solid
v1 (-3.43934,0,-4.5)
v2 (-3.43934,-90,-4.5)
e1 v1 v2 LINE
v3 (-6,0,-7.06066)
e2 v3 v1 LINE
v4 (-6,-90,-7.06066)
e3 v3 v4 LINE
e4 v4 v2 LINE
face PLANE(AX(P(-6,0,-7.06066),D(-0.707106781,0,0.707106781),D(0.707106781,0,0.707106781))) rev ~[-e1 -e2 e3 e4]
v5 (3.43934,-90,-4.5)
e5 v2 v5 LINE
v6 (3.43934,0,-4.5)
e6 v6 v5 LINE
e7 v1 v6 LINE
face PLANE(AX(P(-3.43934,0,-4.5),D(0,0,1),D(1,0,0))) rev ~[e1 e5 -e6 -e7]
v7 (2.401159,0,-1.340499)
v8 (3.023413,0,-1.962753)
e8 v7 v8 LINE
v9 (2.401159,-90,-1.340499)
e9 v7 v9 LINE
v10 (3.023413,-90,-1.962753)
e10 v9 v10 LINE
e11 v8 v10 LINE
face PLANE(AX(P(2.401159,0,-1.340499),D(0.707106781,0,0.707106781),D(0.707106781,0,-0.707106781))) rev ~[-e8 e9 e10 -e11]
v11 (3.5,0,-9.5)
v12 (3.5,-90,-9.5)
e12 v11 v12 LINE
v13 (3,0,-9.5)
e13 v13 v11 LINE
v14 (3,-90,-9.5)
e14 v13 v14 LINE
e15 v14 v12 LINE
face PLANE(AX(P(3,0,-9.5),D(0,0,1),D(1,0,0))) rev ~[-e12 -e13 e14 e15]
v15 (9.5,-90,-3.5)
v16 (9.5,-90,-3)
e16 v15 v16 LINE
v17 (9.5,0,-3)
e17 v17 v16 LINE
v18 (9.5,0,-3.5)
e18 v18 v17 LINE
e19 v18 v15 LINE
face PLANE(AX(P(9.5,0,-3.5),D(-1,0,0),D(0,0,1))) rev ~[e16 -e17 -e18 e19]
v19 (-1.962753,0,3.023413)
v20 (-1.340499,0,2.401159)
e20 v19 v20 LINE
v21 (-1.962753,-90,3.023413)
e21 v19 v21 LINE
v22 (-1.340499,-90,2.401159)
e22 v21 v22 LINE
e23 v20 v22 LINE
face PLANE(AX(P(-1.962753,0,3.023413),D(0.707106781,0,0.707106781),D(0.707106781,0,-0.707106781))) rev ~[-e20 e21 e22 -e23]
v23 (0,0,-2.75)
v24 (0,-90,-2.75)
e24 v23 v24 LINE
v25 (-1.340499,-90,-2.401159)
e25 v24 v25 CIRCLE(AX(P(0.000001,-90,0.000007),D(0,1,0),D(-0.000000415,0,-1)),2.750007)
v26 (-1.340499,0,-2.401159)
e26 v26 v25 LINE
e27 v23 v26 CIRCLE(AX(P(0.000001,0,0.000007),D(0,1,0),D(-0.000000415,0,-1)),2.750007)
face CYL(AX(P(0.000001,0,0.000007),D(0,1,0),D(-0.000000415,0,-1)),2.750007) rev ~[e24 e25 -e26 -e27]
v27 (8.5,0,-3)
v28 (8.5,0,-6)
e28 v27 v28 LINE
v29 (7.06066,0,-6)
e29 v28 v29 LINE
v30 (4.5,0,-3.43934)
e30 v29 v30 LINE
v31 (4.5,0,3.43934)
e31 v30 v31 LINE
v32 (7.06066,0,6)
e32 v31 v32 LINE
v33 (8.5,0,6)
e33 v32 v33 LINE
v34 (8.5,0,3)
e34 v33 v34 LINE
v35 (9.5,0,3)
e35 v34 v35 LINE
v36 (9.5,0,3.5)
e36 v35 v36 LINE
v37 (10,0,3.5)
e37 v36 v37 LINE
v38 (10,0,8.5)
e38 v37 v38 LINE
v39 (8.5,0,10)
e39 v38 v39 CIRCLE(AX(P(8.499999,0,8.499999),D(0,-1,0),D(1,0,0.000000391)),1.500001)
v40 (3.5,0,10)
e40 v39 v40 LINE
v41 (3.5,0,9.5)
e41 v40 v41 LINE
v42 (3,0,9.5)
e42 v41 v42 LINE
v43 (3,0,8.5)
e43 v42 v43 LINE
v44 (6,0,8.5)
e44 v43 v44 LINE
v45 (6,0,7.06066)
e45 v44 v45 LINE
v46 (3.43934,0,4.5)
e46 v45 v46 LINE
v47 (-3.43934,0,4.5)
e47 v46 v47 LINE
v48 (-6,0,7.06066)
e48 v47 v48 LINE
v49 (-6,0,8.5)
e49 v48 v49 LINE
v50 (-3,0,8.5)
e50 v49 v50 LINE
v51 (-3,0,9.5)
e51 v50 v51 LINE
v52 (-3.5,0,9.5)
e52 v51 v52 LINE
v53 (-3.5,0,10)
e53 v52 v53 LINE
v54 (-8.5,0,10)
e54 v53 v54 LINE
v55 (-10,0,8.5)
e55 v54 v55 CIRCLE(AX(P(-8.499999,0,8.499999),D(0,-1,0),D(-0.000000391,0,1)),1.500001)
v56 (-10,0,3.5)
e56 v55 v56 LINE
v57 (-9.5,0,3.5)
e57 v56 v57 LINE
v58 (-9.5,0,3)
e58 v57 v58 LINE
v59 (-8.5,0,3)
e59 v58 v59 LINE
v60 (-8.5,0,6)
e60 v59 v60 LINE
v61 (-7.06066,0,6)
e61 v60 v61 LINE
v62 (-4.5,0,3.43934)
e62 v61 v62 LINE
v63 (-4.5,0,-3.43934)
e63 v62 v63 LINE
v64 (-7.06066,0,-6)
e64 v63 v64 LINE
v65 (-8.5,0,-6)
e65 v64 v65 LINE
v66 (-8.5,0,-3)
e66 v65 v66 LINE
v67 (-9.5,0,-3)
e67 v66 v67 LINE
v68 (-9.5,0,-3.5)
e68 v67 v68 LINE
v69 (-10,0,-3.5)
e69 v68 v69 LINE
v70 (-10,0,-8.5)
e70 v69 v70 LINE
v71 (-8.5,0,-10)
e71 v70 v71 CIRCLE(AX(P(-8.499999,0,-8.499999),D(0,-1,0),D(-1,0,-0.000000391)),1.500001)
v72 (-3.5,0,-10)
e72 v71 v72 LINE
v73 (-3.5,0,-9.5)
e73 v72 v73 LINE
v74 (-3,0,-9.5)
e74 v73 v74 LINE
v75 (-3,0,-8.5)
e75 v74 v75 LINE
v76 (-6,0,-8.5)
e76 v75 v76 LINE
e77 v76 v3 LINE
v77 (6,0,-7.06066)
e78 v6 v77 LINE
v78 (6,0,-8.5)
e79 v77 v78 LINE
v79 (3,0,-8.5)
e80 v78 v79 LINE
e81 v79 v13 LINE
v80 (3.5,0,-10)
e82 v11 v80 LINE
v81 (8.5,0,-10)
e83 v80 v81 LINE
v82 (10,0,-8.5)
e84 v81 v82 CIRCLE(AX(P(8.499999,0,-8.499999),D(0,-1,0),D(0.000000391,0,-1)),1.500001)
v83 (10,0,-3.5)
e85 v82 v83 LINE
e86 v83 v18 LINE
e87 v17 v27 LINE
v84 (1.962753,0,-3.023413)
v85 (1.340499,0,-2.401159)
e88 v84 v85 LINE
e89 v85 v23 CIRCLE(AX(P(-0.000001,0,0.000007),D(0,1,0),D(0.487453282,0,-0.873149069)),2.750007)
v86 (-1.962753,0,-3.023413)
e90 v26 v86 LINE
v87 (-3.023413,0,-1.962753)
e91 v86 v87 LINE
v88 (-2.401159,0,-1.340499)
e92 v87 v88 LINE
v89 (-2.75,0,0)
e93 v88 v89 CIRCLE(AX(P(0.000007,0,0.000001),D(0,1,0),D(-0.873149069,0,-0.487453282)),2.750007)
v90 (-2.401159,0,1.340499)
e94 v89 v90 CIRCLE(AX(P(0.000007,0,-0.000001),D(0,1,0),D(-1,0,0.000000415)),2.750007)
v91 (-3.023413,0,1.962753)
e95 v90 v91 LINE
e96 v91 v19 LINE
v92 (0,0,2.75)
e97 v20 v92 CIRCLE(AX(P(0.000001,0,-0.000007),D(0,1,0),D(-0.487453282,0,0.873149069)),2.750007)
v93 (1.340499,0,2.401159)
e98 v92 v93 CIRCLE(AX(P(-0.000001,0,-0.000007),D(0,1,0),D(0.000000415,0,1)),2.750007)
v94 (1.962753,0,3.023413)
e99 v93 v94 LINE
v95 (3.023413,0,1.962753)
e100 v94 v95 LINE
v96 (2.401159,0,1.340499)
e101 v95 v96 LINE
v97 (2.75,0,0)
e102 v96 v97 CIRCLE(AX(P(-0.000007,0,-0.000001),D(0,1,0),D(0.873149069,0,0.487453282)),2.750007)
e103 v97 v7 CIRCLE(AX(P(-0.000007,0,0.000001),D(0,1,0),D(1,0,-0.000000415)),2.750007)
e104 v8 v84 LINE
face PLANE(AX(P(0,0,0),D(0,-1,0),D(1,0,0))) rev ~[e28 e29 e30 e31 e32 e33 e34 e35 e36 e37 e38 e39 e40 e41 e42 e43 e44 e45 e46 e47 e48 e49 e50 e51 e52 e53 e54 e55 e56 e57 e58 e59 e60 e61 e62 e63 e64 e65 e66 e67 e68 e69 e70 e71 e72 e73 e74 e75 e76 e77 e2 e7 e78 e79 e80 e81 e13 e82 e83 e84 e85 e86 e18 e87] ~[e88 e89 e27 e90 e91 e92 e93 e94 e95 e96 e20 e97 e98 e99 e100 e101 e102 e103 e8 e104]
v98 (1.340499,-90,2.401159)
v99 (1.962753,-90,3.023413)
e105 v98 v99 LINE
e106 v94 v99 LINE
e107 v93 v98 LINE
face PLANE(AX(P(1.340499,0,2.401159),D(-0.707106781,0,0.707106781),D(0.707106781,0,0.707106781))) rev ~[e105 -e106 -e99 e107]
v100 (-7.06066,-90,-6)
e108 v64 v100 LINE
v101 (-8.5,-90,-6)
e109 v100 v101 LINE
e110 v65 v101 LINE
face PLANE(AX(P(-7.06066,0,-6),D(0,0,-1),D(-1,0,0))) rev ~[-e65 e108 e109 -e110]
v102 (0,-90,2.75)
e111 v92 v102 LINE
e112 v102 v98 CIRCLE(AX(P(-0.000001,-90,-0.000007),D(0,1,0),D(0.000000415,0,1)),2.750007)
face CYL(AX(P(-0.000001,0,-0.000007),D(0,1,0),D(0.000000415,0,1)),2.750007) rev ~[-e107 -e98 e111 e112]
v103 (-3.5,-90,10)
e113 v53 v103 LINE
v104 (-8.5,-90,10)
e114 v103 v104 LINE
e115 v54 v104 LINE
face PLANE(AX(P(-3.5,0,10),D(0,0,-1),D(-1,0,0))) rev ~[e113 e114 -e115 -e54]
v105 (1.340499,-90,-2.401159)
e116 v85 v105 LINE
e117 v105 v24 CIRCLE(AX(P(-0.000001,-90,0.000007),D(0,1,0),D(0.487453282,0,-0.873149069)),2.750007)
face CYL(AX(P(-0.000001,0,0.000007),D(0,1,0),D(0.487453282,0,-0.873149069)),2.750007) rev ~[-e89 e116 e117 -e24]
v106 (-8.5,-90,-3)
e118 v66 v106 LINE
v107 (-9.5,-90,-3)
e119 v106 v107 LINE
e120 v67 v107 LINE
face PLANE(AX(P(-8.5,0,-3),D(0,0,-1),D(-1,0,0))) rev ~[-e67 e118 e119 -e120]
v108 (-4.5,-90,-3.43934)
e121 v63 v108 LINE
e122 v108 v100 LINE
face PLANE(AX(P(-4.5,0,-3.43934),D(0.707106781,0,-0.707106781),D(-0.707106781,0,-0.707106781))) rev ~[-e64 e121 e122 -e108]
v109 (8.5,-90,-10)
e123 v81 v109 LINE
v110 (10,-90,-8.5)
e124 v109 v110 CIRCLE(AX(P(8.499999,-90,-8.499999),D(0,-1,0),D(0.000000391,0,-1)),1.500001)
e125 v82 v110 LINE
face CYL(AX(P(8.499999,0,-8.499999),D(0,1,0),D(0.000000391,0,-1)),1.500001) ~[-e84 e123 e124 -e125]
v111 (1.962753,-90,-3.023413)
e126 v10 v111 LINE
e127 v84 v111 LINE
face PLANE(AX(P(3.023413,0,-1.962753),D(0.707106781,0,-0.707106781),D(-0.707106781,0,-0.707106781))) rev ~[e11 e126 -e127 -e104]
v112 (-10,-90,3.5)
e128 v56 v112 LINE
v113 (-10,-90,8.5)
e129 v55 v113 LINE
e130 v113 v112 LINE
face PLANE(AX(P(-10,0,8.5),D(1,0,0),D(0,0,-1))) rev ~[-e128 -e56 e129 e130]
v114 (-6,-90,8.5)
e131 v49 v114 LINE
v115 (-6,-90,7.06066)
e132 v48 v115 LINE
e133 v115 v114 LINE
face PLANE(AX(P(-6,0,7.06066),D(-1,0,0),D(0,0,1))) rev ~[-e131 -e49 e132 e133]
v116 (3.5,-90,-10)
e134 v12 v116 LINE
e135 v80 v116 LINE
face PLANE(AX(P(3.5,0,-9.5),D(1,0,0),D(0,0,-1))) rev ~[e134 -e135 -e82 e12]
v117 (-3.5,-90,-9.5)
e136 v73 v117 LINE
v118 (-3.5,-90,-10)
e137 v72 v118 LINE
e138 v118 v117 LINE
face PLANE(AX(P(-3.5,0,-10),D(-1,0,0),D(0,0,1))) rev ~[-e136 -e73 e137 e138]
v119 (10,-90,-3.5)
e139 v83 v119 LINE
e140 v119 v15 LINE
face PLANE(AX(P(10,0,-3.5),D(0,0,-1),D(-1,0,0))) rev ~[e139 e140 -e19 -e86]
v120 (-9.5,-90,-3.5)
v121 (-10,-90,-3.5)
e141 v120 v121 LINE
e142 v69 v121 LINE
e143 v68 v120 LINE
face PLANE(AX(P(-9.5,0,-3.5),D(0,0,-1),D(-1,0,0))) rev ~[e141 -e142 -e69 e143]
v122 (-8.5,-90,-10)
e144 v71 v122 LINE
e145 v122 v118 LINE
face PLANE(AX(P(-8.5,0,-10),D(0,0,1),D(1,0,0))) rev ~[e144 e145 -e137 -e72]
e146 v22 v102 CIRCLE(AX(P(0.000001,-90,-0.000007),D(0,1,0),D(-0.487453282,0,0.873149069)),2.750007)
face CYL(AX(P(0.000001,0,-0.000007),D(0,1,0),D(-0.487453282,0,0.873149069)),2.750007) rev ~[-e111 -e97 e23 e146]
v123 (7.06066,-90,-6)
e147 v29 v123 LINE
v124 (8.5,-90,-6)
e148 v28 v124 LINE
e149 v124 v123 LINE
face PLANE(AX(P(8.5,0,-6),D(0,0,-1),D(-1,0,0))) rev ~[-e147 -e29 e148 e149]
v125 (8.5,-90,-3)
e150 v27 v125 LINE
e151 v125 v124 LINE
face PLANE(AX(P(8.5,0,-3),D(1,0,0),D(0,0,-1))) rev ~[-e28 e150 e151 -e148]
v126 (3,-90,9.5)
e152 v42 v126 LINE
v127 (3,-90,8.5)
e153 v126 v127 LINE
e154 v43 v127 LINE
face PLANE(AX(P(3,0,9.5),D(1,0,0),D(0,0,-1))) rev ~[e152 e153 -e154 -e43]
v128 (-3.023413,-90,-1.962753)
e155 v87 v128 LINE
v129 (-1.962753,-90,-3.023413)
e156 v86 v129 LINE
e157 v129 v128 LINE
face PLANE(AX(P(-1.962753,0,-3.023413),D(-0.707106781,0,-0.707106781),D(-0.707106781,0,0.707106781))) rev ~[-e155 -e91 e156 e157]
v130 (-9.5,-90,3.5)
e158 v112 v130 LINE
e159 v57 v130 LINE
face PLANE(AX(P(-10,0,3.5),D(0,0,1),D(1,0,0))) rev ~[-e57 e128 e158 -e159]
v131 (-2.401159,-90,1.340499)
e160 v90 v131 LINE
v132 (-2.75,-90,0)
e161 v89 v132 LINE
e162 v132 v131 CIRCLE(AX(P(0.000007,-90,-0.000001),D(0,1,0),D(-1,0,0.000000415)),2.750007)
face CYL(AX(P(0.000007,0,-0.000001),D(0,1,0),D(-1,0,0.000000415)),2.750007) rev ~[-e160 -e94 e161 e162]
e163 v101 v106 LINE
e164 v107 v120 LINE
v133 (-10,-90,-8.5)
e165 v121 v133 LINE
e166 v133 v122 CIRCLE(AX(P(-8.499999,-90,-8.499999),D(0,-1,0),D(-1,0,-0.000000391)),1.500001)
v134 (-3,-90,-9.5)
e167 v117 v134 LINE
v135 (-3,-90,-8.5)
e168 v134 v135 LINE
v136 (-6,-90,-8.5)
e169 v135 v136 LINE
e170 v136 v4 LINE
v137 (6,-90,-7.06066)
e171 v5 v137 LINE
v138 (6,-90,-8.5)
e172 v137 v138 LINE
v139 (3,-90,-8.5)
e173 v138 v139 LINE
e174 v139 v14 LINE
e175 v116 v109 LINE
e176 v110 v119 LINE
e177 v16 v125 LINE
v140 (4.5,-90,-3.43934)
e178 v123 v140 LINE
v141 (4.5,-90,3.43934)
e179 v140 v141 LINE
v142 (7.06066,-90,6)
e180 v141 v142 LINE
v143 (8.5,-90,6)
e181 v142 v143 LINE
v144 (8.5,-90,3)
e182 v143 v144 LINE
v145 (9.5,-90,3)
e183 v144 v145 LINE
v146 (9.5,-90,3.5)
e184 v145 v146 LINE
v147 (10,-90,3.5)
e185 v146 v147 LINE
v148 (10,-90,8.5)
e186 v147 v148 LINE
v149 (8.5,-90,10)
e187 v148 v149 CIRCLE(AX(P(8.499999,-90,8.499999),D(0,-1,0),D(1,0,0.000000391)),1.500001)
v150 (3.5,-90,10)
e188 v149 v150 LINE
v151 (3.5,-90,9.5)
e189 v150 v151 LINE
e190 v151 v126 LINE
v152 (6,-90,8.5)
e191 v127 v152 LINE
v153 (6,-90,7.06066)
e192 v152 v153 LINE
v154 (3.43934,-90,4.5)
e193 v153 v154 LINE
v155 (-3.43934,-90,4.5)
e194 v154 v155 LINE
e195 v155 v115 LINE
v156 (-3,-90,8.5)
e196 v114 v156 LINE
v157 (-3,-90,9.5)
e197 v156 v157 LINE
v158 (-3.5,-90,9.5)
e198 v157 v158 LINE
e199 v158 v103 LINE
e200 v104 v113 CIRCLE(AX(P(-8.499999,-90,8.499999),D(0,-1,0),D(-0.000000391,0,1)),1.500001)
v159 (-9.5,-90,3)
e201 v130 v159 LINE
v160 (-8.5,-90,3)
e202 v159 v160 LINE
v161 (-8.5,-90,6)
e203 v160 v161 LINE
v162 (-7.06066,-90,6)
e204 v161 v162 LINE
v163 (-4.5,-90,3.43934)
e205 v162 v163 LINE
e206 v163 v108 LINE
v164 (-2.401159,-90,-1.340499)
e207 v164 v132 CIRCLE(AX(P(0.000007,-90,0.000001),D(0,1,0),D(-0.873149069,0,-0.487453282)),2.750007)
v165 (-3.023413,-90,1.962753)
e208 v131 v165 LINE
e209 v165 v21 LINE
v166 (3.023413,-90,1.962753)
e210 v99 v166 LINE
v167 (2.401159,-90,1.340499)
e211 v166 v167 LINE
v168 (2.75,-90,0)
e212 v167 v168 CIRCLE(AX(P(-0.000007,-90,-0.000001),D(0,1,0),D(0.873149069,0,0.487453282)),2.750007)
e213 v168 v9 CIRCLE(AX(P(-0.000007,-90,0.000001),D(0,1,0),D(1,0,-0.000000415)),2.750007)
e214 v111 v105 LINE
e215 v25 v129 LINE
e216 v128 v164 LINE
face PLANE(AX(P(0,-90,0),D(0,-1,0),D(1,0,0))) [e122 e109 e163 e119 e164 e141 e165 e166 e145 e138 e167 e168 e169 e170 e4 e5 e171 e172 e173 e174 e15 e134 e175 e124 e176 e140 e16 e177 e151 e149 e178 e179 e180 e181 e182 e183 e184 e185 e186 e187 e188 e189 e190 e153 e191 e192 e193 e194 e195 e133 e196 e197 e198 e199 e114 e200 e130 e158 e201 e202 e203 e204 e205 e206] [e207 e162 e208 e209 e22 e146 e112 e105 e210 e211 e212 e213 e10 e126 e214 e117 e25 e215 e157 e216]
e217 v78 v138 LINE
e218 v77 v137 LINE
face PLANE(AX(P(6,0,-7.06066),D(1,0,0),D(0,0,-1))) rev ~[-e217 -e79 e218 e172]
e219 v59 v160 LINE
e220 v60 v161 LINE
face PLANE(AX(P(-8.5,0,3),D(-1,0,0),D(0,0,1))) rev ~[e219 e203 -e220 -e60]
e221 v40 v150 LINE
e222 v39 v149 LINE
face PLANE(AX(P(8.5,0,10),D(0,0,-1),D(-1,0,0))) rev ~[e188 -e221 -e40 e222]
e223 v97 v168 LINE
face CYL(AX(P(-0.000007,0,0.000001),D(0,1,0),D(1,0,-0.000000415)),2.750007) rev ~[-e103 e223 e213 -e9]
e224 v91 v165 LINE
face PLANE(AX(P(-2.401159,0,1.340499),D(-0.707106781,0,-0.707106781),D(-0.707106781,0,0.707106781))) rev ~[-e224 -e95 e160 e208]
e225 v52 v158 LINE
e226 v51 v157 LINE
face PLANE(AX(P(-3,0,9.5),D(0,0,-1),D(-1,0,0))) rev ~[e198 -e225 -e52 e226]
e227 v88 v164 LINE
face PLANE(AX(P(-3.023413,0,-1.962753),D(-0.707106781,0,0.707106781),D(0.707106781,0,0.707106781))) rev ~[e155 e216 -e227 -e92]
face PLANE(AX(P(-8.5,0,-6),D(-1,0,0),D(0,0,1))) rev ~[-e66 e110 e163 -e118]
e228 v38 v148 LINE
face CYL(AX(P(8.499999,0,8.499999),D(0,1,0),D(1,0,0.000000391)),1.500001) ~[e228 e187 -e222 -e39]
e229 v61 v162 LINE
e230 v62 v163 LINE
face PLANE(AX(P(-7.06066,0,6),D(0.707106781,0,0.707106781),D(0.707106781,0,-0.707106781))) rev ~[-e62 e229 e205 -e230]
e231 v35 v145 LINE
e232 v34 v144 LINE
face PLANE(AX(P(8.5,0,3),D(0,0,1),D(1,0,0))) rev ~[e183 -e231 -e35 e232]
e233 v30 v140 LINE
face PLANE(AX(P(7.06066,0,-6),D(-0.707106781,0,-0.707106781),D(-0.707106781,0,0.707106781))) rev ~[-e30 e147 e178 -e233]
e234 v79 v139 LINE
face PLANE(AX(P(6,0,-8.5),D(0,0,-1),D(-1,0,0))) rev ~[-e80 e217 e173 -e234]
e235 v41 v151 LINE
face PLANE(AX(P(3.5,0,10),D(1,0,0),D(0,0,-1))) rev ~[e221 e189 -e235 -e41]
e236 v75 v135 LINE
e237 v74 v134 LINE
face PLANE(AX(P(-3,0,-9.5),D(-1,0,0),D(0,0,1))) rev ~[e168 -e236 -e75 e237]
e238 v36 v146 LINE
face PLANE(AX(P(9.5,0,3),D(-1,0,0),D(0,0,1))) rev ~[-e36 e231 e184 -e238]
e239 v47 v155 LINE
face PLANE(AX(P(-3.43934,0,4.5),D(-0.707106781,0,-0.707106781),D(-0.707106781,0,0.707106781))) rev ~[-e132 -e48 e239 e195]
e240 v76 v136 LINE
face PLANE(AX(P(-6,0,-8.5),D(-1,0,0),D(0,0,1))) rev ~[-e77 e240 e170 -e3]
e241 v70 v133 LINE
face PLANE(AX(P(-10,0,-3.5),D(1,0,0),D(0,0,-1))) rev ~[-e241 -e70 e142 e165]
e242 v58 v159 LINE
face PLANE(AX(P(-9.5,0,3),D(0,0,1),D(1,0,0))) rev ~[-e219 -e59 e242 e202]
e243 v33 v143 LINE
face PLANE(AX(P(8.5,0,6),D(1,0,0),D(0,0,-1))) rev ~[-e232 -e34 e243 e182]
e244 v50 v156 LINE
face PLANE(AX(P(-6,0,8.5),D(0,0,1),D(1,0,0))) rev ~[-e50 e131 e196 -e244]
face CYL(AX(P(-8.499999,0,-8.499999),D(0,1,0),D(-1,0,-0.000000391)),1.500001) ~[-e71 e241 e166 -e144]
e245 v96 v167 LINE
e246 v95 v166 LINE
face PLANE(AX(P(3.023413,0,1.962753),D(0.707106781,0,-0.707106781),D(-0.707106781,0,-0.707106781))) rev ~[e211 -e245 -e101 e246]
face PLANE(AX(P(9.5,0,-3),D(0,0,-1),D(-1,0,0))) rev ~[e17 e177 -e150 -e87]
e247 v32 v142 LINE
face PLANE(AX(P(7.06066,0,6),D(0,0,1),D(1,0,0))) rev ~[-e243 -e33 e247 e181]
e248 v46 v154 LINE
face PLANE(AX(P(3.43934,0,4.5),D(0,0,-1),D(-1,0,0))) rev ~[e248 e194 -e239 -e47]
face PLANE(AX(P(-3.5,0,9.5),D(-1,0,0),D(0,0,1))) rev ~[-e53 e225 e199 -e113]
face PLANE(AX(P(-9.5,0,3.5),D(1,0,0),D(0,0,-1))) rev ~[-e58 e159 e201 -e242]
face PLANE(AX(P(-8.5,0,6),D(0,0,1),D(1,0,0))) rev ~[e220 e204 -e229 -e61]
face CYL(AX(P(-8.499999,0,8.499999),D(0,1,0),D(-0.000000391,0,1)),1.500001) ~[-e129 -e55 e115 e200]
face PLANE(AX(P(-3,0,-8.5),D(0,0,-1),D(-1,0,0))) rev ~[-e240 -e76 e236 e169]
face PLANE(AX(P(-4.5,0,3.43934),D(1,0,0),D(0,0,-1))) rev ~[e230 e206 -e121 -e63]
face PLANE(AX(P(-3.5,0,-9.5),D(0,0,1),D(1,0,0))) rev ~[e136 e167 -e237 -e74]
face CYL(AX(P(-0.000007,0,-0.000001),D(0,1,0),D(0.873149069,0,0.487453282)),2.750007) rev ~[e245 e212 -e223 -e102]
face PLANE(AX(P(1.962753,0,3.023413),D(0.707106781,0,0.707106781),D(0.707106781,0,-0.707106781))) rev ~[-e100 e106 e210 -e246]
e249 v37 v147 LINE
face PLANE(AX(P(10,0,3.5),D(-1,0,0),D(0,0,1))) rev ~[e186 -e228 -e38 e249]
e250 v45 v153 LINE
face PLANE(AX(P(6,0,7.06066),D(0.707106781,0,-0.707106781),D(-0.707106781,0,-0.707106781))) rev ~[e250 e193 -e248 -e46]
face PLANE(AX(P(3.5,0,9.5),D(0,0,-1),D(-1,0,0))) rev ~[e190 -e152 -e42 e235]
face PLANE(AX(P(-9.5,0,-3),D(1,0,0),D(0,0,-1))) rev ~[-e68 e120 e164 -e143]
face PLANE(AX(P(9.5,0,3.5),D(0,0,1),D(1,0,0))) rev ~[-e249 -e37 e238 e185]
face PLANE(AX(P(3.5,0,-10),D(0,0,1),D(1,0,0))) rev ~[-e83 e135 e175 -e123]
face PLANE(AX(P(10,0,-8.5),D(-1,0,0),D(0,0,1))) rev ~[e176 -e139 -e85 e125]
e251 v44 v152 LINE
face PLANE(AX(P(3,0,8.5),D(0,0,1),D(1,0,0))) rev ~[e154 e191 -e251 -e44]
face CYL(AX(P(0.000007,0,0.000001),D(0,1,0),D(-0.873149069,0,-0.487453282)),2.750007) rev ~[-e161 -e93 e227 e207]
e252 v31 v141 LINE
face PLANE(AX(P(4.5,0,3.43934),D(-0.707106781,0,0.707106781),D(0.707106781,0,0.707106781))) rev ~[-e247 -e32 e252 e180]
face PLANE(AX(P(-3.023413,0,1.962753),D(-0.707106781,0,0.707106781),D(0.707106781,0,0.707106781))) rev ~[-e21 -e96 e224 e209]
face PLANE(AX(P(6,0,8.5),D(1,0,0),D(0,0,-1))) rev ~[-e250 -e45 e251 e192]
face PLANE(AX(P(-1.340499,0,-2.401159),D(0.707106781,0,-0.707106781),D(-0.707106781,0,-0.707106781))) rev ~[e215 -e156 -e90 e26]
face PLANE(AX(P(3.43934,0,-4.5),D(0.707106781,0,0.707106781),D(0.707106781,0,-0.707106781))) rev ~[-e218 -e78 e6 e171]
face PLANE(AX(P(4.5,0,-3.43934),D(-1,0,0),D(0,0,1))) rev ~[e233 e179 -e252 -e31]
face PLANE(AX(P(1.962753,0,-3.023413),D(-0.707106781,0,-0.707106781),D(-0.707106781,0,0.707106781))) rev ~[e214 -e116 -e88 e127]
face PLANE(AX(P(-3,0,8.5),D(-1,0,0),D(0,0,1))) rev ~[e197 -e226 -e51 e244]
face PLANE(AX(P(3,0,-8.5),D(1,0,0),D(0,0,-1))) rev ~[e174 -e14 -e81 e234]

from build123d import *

# Parameters (mm, degrees)
F1_DEPTH = 90


with BuildPart() as f1:
    # F0 (on Front) → F1 (new body)
    with BuildSketch(Plane.XZ):
        with BuildLine():
            Line((3.43934, 4.5), (0, 4.5))
            Line((0, 4.5), (-3.43934, 4.5))
            Line((-3.43934, 4.5), (-6, 7.06066))
            Line((-6, 7.06066), (-6, 8.5))
            Line((-6, 8.5), (-3, 8.5))
            Line((-3, 8.5), (-3, 9.5))
            Line((-3, 9.5), (-3.5, 9.5))
            Line((-3.5, 9.5), (-3.5, 10))
            Line((-3.5, 10), (-8.5, 10))
            ThreePointArc((-8.5, 10), (-9.56066, 9.56066), (-10, 8.5))
            Line((-10, 8.5), (-10, 3.5))
            Line((-10, 3.5), (-9.5, 3.5))
            Line((-9.5, 3.5), (-9.5, 3))
            Line((-9.5, 3), (-8.5, 3))
            Line((-8.5, 3), (-8.5, 6))
            Line((-8.5, 6), (-7.06066, 6))
            Line((-7.06066, 6), (-4.5, 3.43934))
            Line((-4.5, 3.43934), (-4.5, 0))
            Line((-4.5, 0), (-4.5, -3.43934))
            Line((-4.5, -3.43934), (-7.06066, -6))
            Line((-7.06066, -6), (-8.5, -6))
            Line((-8.5, -6), (-8.5, -3))
            Line((-8.5, -3), (-9.5, -3))
            Line((-9.5, -3), (-9.5, -3.5))
            Line((-9.5, -3.5), (-10, -3.5))
            Line((-10, -3.5), (-10, -8.5))
            ThreePointArc((-10, -8.5), (-9.56066, -9.56066), (-8.5, -10))
            Line((-8.5, -10), (-3.5, -10))
            Line((-3.5, -10), (-3.5, -9.5))
            Line((-3.5, -9.5), (-3, -9.5))
            Line((-3, -9.5), (-3, -8.5))
            Line((-3, -8.5), (-6, -8.5))
            Line((-6, -8.5), (-6, -7.06066))
            Line((-6, -7.06066), (-3.43934, -4.5))
            Line((-3.43934, -4.5), (0, -4.5))
            Line((0, -4.5), (3.43934, -4.5))
            Line((3.43934, -4.5), (6, -7.06066))
            Line((6, -7.06066), (6, -8.5))
            Line((6, -8.5), (3, -8.5))
            Line((3, -8.5), (3, -9.5))
            Line((3, -9.5), (3.5, -9.5))
            Line((3.5, -9.5), (3.5, -10))
            Line((3.5, -10), (8.5, -10))
            ThreePointArc((8.5, -10), (9.56066, -9.56066), (10, -8.5))
            Line((10, -8.5), (10, -3.5))
            Line((10, -3.5), (9.5, -3.5))
            Line((9.5, -3.5), (9.5, -3))
            Line((9.5, -3), (8.5, -3))
            Line((8.5, -3), (8.5, -6))
            Line((8.5, -6), (7.06066, -6))
            Line((7.06066, -6), (4.5, -3.43934))
            Line((4.5, -3.43934), (4.5, 0))
            Line((4.5, 0), (4.5, 3.43934))
            Line((4.5, 3.43934), (7.06066, 6))
            Line((7.06066, 6), (8.5, 6))
            Line((8.5, 6), (8.5, 3))
            Line((8.5, 3), (9.5, 3))
            Line((9.5, 3), (9.5, 3.5))
            Line((9.5, 3.5), (10, 3.5))
            Line((10, 3.5), (10, 8.5))
            ThreePointArc((10, 8.5), (9.56066, 9.56066), (8.5, 10))
            Line((8.5, 10), (3.5, 10))
            Line((3.5, 10), (3.5, 9.5))
            Line((3.5, 9.5), (3, 9.5))
            Line((3, 9.5), (3, 8.5))
            Line((3, 8.5), (6, 8.5))
            Line((6, 8.5), (6, 7.06066))
            Line((6, 7.06066), (3.43934, 4.5))
        make_face()
        with BuildLine():
            ThreePointArc((-1.340499, 2.401159), (-0.692573, 2.661361), (0, 2.75))
            ThreePointArc((0, 2.75), (0.692573, 2.661361), (1.340499, 2.401159))
            Line((1.340499, 2.401159), (1.962753, 3.023413))
            Line((1.962753, 3.023413), (3.023413, 1.962753))
            Line((3.023413, 1.962753), (2.401159, 1.340499))
            ThreePointArc((2.401159, 1.340499), (2.661361, 0.692573), (2.75, 0))
            ThreePointArc((2.75, 0), (2.661361, -0.692573), (2.401159, -1.340499))
            Line((2.401159, -1.340499), (3.023413, -1.962753))
            Line((3.023413, -1.962753), (1.962753, -3.023413))
            Line((1.962753, -3.023413), (1.340499, -2.401159))
            ThreePointArc((1.340499, -2.401159), (0.692573, -2.661361), (0, -2.75))
            ThreePointArc((0, -2.75), (-0.692573, -2.661361), (-1.340499, -2.401159))
            Line((-1.340499, -2.401159), (-1.962753, -3.023413))
            Line((-1.962753, -3.023413), (-3.023413, -1.962753))
            Line((-3.023413, -1.962753), (-2.401159, -1.340499))
            ThreePointArc((-2.401159, -1.340499), (-2.661361, -0.692573), (-2.75, 0))
            ThreePointArc((-2.75, 0), (-2.661361, 0.692573), (-2.401159, 1.340499))
            Line((-2.401159, 1.340499), (-3.023413, 1.962753))
            Line((-3.023413, 1.962753), (-1.962753, 3.023413))
            Line((-1.962753, 3.023413), (-1.340499, 2.401159))
        make_face(mode=Mode.SUBTRACT)
    extrude(amount=F1_DEPTH)


solid = f1.part
